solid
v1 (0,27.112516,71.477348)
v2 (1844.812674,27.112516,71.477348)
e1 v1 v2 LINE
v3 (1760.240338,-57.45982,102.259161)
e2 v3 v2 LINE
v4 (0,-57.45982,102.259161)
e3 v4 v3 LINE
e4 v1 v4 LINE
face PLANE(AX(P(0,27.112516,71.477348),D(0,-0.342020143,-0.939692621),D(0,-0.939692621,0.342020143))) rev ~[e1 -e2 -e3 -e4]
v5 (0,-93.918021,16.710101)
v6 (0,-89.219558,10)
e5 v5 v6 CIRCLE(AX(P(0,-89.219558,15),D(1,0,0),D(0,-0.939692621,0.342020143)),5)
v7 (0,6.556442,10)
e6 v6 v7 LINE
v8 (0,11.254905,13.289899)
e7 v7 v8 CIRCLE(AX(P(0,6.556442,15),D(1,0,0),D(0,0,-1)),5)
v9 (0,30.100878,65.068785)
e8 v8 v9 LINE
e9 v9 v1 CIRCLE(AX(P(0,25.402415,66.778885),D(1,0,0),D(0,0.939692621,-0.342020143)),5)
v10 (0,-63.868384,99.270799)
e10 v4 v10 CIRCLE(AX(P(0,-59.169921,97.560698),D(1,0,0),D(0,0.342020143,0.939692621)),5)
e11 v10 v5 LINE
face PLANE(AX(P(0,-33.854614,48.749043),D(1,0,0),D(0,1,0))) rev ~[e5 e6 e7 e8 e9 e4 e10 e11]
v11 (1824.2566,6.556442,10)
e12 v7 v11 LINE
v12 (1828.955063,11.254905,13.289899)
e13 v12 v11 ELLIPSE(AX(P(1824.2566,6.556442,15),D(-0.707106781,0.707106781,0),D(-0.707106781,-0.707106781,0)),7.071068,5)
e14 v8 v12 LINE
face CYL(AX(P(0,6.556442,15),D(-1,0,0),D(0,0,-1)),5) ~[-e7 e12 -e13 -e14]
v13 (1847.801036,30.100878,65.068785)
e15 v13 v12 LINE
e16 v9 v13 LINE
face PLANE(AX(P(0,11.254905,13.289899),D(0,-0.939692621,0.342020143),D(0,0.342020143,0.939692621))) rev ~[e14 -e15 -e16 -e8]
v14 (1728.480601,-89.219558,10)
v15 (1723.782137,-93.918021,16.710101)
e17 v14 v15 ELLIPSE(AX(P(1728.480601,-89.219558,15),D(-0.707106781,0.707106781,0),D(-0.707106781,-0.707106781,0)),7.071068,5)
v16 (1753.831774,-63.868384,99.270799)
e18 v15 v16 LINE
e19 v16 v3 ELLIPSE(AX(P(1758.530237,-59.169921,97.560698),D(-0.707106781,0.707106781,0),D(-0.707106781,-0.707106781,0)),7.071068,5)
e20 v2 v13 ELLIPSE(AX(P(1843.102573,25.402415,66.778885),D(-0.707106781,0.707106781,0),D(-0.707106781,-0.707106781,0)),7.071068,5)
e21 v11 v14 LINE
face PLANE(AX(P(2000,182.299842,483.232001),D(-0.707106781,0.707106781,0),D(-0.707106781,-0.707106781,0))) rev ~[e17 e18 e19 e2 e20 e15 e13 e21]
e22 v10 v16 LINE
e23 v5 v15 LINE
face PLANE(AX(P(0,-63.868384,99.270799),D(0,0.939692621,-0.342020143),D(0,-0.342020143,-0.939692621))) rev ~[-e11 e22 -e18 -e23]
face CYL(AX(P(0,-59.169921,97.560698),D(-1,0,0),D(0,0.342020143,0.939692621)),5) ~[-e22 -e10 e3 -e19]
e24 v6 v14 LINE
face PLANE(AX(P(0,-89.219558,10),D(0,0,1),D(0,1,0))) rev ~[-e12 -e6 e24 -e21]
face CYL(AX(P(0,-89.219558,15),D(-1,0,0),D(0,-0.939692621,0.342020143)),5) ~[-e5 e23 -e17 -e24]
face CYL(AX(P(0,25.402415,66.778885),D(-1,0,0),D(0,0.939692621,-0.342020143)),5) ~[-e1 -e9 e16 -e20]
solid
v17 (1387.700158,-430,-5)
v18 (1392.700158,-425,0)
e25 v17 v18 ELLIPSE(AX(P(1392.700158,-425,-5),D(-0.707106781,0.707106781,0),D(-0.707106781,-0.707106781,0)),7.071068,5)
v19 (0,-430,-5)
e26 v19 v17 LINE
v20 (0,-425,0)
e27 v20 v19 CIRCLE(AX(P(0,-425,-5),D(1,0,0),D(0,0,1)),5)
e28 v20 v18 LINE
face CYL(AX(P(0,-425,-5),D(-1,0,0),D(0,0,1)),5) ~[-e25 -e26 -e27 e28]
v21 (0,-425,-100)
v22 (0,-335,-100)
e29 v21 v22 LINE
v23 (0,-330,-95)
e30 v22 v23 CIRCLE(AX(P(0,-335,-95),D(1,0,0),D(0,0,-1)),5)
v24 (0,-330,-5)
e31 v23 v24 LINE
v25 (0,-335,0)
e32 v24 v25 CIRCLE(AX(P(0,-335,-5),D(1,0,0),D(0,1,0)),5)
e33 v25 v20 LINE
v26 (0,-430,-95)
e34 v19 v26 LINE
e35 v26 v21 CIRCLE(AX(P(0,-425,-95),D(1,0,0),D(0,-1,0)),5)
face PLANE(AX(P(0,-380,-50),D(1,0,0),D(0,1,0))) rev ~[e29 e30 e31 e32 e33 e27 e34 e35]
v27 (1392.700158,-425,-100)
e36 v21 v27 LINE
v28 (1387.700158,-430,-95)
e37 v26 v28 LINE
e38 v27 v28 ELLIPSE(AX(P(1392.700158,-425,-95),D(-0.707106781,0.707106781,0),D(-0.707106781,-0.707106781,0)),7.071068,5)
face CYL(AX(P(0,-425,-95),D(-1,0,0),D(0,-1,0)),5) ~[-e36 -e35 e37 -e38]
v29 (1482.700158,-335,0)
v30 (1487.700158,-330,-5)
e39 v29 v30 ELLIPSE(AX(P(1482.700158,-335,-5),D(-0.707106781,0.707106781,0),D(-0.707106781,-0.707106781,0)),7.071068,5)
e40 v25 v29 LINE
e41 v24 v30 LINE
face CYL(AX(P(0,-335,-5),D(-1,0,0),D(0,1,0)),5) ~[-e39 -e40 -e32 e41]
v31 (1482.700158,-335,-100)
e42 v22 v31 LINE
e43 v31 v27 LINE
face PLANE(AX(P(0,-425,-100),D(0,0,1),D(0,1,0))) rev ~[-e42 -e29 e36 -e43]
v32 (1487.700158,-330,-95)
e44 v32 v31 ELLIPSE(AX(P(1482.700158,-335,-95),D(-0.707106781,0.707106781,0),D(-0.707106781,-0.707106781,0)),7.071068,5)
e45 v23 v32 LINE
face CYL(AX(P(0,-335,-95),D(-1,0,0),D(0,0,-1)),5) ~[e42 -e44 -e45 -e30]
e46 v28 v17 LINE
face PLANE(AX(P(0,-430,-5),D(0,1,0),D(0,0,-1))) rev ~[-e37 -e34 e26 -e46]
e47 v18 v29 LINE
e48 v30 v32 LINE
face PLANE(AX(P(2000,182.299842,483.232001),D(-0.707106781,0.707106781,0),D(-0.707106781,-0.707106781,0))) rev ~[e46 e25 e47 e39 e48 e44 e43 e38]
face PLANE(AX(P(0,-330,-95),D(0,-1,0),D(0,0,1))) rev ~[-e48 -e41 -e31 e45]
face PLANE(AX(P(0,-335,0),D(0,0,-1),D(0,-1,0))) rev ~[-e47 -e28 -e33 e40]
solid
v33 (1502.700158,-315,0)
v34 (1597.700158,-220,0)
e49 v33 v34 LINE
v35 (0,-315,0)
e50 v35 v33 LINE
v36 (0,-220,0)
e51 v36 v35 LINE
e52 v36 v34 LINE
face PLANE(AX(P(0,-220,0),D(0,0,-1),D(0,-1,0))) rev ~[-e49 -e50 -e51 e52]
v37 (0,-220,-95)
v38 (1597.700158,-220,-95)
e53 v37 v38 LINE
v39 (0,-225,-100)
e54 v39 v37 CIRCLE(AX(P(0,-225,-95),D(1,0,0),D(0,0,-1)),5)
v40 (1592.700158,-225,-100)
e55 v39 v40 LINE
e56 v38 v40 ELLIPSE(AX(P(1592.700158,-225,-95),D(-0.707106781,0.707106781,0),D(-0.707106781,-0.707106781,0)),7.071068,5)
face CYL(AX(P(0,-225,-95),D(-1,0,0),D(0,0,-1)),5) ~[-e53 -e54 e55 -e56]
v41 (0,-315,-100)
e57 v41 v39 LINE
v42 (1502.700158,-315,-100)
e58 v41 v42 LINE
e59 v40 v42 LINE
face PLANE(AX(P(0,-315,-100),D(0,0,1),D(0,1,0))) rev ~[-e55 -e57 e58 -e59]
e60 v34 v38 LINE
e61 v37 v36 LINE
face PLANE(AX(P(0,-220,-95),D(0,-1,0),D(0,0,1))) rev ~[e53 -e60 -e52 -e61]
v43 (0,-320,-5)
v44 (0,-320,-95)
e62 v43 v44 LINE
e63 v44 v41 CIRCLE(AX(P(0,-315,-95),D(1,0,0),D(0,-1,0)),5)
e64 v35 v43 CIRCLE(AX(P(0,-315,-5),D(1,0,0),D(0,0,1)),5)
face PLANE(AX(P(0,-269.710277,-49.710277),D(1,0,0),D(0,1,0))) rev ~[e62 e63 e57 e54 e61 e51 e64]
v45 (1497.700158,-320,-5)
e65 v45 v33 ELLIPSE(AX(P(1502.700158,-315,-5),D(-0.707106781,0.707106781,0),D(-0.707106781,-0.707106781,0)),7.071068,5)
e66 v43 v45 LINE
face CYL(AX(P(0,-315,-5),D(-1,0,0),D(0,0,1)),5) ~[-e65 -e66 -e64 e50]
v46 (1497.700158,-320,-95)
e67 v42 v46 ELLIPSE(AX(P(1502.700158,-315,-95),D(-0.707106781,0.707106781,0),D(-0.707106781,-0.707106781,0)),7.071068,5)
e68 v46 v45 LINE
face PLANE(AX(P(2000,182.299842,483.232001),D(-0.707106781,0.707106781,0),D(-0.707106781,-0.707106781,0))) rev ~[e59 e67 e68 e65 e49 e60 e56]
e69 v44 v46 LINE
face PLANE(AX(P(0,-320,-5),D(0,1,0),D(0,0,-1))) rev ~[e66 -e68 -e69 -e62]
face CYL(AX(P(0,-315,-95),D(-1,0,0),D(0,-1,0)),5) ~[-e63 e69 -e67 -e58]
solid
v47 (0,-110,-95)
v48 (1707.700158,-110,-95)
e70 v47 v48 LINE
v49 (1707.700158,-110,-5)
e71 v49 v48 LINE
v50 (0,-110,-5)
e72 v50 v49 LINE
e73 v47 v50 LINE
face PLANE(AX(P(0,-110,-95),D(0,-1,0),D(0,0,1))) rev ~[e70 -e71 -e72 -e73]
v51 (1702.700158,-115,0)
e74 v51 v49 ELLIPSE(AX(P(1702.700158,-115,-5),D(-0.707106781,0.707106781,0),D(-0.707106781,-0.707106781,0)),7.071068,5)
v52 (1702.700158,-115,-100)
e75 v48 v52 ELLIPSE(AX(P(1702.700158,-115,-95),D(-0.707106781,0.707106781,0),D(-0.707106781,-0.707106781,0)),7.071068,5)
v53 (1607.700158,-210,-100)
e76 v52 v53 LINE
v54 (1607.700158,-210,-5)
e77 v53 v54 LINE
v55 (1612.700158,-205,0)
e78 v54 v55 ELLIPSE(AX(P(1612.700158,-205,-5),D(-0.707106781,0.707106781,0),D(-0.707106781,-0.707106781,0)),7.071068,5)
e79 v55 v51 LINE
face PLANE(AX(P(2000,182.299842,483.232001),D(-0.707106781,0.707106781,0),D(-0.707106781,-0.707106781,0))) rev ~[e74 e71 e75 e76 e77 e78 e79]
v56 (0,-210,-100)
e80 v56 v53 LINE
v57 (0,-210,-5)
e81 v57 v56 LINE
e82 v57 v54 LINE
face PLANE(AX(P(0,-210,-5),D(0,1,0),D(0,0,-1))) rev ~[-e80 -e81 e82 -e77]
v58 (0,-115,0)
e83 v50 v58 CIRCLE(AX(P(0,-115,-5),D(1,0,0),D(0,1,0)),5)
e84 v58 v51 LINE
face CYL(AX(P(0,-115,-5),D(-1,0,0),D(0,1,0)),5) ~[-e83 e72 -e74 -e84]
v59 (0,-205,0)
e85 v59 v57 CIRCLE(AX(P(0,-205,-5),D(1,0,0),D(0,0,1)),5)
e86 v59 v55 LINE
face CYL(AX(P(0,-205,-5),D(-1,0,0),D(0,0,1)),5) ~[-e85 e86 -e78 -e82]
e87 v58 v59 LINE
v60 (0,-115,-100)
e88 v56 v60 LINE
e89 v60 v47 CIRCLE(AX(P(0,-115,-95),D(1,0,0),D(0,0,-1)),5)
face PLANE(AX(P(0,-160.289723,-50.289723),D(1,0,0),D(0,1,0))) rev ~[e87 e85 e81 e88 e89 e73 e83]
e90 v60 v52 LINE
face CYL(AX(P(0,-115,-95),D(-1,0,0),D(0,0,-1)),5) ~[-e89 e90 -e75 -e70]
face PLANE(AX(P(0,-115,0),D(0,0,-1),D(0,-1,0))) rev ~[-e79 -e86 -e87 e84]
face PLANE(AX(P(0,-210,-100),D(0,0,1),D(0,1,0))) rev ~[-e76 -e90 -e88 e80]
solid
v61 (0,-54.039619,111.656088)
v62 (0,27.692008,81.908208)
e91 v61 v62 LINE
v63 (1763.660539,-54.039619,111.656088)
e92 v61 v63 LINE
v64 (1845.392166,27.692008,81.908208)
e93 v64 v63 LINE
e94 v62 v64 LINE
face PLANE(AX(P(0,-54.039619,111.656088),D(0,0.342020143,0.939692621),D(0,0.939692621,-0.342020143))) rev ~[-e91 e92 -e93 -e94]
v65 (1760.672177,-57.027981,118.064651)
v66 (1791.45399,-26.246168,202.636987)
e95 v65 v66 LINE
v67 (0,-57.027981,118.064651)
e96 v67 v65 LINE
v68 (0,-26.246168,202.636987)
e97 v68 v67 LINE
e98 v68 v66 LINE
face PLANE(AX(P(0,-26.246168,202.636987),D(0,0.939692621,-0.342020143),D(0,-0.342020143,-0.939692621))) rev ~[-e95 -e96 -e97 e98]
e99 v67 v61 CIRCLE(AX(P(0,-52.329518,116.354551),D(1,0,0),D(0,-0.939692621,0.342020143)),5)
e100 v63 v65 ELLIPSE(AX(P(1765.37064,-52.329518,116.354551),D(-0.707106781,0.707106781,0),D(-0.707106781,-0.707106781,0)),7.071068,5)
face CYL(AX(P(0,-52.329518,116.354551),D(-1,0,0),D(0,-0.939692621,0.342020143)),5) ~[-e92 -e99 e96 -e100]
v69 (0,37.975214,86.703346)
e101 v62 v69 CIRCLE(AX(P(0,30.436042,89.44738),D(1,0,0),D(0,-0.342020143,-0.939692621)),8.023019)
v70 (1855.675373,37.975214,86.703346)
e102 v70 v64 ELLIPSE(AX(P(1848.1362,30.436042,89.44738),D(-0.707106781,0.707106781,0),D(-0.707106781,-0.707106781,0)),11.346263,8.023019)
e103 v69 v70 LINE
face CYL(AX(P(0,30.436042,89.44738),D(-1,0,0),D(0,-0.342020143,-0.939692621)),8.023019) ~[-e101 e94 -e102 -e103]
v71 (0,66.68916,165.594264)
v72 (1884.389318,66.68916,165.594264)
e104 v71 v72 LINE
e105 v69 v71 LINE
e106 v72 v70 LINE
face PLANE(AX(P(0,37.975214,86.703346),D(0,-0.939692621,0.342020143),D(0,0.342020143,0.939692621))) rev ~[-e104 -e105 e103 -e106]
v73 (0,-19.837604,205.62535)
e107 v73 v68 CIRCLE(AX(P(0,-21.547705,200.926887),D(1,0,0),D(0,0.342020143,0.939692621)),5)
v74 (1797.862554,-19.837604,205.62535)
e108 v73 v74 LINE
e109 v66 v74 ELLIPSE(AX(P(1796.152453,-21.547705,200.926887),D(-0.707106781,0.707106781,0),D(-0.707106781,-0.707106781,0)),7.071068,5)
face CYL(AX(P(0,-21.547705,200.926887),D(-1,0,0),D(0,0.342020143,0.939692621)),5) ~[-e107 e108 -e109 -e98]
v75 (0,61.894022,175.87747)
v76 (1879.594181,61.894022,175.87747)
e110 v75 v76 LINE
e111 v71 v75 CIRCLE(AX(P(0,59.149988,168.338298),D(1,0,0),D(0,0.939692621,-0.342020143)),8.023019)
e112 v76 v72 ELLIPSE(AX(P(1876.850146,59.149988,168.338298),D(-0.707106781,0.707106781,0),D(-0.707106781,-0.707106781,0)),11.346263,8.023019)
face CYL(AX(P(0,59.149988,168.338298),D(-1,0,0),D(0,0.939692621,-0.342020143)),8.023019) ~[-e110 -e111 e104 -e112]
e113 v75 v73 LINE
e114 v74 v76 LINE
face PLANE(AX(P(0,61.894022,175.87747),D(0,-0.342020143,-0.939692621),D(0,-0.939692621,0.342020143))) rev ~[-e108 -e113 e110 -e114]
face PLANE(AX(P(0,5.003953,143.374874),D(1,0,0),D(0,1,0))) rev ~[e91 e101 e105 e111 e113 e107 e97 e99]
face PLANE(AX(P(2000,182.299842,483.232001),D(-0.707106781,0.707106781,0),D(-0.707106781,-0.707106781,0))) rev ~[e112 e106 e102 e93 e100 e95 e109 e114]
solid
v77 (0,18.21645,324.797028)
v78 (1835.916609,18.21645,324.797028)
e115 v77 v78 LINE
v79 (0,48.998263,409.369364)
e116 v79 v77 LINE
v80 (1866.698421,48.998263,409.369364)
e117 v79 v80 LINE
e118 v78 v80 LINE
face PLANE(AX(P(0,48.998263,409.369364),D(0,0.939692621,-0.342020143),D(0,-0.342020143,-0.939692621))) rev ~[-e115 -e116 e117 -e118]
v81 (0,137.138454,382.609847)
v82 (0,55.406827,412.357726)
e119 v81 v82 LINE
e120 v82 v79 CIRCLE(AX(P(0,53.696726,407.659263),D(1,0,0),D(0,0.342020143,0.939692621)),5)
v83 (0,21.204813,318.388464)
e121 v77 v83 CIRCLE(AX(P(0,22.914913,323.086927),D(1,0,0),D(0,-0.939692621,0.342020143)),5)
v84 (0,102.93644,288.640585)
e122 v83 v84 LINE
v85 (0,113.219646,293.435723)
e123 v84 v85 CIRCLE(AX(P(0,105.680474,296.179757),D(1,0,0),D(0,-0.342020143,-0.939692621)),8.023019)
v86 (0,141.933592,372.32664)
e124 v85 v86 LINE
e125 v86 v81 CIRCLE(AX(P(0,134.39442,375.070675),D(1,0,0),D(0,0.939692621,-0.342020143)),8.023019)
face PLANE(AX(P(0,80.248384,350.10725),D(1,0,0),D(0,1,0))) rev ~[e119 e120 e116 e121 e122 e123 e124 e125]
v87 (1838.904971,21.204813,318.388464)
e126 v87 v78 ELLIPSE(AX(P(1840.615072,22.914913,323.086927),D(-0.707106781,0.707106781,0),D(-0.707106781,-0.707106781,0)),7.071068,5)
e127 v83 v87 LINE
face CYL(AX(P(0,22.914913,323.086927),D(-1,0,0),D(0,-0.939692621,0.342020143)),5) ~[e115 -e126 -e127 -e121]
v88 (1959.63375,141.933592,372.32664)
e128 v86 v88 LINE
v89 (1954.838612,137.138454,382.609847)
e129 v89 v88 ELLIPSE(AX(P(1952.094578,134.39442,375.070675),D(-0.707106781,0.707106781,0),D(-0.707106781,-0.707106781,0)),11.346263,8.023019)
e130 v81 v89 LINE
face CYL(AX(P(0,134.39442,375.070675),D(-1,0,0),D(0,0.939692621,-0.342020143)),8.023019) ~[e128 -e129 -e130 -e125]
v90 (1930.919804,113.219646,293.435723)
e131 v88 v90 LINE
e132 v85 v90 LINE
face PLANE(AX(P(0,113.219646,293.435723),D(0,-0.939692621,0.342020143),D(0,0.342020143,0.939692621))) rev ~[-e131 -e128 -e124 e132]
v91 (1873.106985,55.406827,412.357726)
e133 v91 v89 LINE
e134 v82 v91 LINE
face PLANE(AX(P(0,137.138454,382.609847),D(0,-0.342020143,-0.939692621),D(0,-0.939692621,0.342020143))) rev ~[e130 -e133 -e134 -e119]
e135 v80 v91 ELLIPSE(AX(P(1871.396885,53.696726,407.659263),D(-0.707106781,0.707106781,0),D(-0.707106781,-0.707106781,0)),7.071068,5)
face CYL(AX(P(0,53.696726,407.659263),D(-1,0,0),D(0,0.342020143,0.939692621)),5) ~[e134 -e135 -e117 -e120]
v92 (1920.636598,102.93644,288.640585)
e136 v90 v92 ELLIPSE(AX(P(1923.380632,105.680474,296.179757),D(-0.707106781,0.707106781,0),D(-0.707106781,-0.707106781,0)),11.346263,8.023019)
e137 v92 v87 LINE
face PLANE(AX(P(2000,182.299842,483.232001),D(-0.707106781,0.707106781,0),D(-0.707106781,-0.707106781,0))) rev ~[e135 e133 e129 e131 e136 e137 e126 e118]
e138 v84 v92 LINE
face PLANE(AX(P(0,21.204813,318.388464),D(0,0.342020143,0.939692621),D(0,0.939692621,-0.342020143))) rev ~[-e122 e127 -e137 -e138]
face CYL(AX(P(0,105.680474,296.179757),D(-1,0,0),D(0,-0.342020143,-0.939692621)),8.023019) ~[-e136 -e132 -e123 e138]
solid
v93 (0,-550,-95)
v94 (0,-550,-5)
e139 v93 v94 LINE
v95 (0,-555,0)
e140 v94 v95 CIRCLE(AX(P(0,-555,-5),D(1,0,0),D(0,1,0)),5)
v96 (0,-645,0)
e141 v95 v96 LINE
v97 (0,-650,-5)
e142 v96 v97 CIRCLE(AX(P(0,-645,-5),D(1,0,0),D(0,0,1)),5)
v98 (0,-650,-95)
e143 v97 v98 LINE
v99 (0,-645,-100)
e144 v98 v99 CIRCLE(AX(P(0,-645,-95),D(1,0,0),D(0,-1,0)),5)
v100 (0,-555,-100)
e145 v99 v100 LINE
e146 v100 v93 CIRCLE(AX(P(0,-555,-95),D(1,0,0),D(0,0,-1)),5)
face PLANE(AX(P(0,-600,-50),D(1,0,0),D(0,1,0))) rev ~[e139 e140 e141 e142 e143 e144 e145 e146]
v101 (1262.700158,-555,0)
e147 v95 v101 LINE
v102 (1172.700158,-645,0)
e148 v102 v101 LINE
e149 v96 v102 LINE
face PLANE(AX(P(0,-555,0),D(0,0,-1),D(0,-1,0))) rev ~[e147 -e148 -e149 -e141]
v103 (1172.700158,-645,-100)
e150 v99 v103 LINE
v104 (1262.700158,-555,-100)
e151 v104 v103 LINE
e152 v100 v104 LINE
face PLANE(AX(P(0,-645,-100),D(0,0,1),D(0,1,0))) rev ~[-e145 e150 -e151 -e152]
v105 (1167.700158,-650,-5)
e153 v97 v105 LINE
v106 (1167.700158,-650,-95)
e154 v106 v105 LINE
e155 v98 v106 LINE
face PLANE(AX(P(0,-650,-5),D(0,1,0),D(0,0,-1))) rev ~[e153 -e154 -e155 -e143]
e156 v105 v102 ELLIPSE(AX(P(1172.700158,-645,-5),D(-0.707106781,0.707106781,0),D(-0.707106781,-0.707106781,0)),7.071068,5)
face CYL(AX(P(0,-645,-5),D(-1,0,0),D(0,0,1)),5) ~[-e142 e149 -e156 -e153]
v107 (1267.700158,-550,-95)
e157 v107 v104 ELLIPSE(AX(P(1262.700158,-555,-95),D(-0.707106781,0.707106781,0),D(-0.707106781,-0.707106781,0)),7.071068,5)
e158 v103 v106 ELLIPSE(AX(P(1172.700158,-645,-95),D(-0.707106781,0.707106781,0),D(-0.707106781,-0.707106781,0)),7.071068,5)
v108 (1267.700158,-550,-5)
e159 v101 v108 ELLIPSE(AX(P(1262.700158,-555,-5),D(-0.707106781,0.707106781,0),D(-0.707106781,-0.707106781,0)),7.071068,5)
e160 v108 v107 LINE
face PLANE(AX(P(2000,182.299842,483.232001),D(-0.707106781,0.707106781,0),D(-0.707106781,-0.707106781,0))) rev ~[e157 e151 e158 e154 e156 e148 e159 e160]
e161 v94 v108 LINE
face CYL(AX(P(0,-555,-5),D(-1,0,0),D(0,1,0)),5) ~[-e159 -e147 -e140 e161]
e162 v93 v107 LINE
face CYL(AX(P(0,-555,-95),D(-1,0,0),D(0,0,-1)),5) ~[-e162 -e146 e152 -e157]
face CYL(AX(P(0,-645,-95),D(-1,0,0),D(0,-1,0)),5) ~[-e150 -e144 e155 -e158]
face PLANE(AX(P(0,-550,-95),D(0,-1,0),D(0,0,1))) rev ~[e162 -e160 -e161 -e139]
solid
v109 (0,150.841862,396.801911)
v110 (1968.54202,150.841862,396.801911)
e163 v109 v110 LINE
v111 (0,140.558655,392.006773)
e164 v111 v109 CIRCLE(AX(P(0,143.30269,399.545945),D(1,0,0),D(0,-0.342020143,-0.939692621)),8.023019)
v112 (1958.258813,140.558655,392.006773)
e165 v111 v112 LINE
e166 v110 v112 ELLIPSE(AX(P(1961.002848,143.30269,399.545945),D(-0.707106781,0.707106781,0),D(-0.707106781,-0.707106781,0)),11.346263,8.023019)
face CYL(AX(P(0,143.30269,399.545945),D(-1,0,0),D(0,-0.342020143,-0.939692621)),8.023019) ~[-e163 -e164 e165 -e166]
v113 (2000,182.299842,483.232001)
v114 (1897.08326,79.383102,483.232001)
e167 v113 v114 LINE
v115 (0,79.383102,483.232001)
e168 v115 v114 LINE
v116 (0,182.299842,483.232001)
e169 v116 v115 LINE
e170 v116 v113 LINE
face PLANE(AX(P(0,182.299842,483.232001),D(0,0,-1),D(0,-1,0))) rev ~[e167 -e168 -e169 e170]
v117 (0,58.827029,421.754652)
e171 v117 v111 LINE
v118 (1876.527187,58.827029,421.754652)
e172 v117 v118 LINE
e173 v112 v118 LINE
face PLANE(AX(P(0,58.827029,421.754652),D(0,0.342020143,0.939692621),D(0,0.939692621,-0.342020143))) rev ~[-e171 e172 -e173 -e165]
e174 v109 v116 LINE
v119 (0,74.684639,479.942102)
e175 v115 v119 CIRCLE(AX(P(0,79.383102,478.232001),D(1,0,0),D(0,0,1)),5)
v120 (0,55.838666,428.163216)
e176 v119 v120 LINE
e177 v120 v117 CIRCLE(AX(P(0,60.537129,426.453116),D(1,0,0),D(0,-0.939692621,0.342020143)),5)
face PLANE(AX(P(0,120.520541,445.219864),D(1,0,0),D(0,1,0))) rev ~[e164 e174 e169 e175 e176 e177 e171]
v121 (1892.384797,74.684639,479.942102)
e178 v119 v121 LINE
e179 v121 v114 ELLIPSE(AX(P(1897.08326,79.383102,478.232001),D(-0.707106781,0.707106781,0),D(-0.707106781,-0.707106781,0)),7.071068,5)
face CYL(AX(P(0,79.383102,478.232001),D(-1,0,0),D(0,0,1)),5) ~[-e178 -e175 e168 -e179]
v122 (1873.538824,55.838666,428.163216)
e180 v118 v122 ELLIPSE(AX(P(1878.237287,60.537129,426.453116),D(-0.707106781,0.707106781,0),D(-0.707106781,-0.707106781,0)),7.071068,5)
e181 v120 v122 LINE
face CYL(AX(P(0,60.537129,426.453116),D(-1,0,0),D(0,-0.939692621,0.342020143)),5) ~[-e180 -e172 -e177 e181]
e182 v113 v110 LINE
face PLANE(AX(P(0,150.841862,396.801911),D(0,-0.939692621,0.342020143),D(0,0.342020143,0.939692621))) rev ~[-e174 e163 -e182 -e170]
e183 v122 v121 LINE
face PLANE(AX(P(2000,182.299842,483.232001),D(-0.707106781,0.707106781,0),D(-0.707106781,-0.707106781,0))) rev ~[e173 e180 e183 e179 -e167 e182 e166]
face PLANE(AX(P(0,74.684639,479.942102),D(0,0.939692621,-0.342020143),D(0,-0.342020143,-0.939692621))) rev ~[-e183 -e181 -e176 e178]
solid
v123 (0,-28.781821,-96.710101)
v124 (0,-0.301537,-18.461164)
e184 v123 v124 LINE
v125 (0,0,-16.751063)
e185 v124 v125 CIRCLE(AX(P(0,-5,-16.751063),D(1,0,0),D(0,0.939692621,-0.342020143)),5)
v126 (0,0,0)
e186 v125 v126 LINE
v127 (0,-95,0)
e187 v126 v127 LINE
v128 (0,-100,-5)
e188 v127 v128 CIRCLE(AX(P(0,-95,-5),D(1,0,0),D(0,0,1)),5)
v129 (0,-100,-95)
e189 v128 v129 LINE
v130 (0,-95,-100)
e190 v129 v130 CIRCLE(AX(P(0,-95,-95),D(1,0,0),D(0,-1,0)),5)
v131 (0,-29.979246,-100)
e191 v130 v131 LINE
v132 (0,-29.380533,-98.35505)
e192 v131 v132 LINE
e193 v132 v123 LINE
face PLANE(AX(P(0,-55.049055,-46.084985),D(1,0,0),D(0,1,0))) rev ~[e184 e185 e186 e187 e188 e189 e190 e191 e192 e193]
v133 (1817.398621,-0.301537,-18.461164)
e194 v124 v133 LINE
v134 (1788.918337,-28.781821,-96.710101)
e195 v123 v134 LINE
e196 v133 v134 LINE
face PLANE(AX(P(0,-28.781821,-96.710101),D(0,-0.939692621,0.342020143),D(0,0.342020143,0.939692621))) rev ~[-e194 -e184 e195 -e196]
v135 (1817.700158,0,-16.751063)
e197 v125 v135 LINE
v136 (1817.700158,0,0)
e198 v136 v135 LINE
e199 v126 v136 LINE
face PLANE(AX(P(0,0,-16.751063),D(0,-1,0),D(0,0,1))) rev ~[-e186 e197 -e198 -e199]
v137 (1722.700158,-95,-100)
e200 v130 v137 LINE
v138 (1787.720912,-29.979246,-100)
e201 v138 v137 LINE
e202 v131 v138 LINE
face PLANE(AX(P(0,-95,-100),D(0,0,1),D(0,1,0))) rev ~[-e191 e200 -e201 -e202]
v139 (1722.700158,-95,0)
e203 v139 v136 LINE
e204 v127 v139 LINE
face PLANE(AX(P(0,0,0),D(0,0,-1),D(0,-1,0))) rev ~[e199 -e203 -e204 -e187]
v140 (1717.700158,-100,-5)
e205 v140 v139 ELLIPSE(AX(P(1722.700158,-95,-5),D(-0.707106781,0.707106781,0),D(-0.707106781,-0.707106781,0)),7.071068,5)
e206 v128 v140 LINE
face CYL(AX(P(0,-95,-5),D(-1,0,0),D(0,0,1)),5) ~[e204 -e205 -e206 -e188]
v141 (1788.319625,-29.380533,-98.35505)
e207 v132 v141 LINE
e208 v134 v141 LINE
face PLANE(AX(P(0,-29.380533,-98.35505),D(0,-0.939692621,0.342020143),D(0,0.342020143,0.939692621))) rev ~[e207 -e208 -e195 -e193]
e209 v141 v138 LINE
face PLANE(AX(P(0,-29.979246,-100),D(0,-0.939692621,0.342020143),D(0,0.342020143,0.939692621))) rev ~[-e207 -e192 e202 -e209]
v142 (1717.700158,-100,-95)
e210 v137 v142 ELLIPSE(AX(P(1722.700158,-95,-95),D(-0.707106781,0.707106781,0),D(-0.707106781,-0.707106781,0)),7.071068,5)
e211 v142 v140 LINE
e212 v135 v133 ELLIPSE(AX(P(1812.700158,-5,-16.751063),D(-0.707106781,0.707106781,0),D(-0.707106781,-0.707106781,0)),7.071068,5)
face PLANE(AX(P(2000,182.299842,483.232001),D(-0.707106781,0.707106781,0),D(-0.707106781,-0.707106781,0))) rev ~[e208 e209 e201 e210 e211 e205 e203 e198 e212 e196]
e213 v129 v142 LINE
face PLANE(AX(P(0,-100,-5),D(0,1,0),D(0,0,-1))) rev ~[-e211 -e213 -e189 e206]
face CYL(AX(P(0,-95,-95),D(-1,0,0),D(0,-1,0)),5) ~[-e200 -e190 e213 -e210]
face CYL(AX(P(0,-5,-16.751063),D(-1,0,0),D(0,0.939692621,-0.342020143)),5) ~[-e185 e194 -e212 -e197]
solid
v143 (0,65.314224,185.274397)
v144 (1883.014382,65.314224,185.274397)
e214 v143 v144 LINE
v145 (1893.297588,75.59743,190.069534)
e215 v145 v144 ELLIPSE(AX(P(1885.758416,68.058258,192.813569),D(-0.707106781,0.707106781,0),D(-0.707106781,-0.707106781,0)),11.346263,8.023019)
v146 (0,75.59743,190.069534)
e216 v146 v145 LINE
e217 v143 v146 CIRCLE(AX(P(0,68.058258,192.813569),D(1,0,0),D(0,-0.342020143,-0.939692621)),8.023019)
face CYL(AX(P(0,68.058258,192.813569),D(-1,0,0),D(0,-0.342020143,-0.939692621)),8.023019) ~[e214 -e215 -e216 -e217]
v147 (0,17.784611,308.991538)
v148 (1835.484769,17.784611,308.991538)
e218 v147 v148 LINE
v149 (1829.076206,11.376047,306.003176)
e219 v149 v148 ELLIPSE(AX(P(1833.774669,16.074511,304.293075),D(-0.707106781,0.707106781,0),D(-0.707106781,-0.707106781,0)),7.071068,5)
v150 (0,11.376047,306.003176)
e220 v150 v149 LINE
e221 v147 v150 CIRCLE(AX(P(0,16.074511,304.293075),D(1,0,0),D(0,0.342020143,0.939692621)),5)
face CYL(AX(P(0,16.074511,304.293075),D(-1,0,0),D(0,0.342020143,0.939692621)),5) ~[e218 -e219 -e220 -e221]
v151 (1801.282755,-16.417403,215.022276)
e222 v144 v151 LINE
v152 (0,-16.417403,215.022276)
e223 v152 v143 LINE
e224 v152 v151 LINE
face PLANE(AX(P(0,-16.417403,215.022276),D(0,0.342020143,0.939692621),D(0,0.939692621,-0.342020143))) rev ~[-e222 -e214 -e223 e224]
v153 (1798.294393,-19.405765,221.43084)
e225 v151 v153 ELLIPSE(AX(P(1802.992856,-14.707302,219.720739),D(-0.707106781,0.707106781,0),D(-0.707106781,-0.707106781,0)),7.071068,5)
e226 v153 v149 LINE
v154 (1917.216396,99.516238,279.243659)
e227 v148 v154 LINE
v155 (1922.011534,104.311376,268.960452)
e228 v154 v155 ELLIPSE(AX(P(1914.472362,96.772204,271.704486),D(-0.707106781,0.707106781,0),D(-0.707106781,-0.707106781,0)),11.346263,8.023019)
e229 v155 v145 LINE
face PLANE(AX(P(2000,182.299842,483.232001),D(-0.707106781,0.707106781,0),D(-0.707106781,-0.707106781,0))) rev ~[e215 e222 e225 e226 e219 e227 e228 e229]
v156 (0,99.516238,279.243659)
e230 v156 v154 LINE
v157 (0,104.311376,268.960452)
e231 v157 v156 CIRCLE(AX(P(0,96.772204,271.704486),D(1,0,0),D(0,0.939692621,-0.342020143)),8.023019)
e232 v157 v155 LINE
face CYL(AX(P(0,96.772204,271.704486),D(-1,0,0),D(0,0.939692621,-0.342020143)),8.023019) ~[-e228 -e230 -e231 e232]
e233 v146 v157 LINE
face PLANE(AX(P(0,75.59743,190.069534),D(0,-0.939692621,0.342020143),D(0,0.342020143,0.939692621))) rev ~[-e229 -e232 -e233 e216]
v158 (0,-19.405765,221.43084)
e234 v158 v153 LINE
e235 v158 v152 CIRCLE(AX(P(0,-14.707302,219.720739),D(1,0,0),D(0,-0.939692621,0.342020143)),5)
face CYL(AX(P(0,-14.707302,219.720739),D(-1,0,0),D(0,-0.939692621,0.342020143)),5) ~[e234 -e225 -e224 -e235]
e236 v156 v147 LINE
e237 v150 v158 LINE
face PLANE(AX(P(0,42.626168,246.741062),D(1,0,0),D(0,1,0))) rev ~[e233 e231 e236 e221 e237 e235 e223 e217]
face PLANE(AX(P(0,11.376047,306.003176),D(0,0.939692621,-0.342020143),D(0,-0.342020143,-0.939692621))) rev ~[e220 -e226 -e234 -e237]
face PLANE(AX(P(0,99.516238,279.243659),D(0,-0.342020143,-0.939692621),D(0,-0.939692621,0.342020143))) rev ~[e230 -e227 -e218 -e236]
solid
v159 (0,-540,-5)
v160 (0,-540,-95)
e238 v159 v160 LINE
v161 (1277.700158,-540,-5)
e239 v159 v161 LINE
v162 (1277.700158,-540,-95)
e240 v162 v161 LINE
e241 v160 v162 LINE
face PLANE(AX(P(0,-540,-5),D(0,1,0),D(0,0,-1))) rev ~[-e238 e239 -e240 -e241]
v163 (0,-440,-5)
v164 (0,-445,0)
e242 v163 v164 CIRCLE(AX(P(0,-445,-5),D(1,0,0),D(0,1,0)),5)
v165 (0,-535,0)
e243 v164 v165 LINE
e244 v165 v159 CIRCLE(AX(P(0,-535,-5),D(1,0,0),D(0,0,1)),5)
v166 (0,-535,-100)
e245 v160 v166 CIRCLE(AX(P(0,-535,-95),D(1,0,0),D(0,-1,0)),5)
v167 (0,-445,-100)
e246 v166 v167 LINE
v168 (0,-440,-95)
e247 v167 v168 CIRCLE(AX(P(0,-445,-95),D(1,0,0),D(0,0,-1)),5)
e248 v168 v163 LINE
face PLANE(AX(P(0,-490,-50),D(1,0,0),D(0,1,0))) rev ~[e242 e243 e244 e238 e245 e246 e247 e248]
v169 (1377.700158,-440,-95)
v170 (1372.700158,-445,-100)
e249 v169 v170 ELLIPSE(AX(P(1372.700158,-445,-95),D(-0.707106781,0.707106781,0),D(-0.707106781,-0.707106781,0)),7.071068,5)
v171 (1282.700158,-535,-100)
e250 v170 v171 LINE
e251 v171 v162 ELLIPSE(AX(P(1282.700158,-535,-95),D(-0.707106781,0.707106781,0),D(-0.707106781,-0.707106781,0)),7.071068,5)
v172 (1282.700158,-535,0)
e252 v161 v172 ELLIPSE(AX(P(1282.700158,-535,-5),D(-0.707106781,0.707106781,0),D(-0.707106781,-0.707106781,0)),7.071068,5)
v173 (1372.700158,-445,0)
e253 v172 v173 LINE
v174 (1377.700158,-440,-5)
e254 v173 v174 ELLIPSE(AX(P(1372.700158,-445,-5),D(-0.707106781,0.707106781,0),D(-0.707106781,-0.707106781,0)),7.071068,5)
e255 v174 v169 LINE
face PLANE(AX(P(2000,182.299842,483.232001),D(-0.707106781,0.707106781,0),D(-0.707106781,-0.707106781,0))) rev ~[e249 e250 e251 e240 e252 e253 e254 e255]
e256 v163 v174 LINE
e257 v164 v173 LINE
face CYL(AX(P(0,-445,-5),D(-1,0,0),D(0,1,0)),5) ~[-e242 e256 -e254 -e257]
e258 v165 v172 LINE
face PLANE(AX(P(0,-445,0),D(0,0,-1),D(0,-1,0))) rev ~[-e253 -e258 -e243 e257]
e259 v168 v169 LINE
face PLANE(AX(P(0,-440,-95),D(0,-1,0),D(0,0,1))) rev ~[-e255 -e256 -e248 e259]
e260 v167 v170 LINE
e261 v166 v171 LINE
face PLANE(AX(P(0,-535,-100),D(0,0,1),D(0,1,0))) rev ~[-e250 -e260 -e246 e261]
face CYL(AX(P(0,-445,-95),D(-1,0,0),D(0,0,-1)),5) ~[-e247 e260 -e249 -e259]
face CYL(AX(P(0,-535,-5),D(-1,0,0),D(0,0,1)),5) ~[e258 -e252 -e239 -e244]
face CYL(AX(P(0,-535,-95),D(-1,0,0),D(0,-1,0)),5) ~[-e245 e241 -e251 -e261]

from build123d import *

# Parameters (mm, degrees)
F1_DEPTH = 2000
F3_DEPTH = 583.2330008918


with BuildPart() as f1:
    # F0 (on Right) → F1 (new body)
    with BuildSketch(Plane.YZ):
        with BuildLine():
            Line((0, -16.7510631673), (0, 0))
            Line((0, 0), (-95, 0))
            ThreePointArc((-95, 0), (-98.5355339059, -1.4644660941), (-100, -5))
            Line((-100, -5), (-100, -95))
            ThreePointArc((-100, -95), (-98.5355339059, -98.5355339059), (-95, -100))
            Line((-95, -100), (-33.4802838701, -100))
            Line((-33.4802838701, -100), (-29.979246179, -100))
            Line((-29.979246179, -100), (-29.3805334726, -98.3550503583))
            Line((-29.3805334726, -98.3550503583), (-28.7818207661, -96.7101007166))
            Line((-28.7818207661, -96.7101007166), (-0.3015368961, -18.4611638839))
            ThreePointArc((-0.3015368961, -18.4611638839), (-0.0759612349, -17.6193040556), (0, -16.7510631673))
        make_face()
    extrude(amount=F1_DEPTH)


with BuildPart() as f1b:
    # F0 (on Right) → F1, piece 2 (new body)
    with BuildSketch(Plane.YZ):
        with BuildLine():
            ThreePointArc((-110, -5), (-111.4644660941, -1.4644660941), (-115, 0))
            Line((-115, 0), (-205, 0))
            ThreePointArc((-205, 0), (-208.5355339059, -1.4644660941), (-210, -5))
            Line((-210, -5), (-210, -100))
            Line((-210, -100), (-115, -100))
            ThreePointArc((-115, -100), (-111.4644660941, -98.5355339059), (-110, -95))
            Line((-110, -95), (-110, -5))
        make_face()
    extrude(amount=F1_DEPTH)


with BuildPart() as f1c:
    # F0 (on Right) → F1, piece 3 (new body)
    with BuildSketch(Plane.YZ):
        with BuildLine():
            Line((-220, -95), (-220, 0))
            Line((-220, 0), (-315, 0))
            ThreePointArc((-315, 0), (-318.5355339059, -1.4644660941), (-320, -5))
            Line((-320, -5), (-320, -95))
            ThreePointArc((-320, -95), (-318.5355339059, -98.5355339059), (-315, -100))
            Line((-315, -100), (-225, -100))
            ThreePointArc((-225, -100), (-221.4644660941, -98.5355339059), (-220, -95))
        make_face()
    extrude(amount=F1_DEPTH)


with BuildPart() as f1d:
    # F0 (on Right) → F1, piece 4 (new body)
    with BuildSketch(Plane.YZ):
        with BuildLine():
            ThreePointArc((-330, -5), (-331.4644660941, -1.4644660941), (-335, 0))
            Line((-335, 0), (-425, 0))
            ThreePointArc((-425, 0), (-428.5355339059, -1.4644660941), (-430, -5))
            Line((-430, -5), (-430, -95))
            ThreePointArc((-430, -95), (-428.5355339059, -98.5355339059), (-425, -100))
            Line((-425, -100), (-335, -100))
            ThreePointArc((-335, -100), (-331.4644660941, -98.5355339059), (-330, -95))
            Line((-330, -95), (-330, -5))
        make_face()
    extrude(amount=F1_DEPTH)


with BuildPart() as f1e:
    # F0 (on Right) → F1, piece 5 (new body)
    with BuildSketch(Plane.YZ):
        with BuildLine():
            ThreePointArc((-440, -5), (-441.4644660941, -1.4644660941), (-445, 0))
            Line((-445, 0), (-535, 0))
            ThreePointArc((-535, 0), (-538.5355339059, -1.4644660941), (-540, -5))
            Line((-540, -5), (-540, -95))
            ThreePointArc((-540, -95), (-538.5355339059, -98.5355339059), (-535, -100))
            Line((-535, -100), (-445, -100))
            ThreePointArc((-445, -100), (-441.4644660941, -98.5355339059), (-440, -95))
            Line((-440, -95), (-440, -5))
        make_face()
    extrude(amount=F1_DEPTH)


with BuildPart() as f1f:
    # F0 (on Right) → F1, piece 6 (new body)
    with BuildSketch(Plane.YZ):
        with BuildLine():
            ThreePointArc((-550, -5), (-551.4644660941, -1.4644660941), (-555, 0))
            Line((-555, 0), (-645, 0))
            ThreePointArc((-645, 0), (-648.5355339059, -1.4644660941), (-650, -5))
            Line((-650, -5), (-650, -95))
            ThreePointArc((-650, -95), (-648.5355339059, -98.5355339059), (-645, -100))
            Line((-645, -100), (-555, -100))
            ThreePointArc((-555, -100), (-551.4644660941, -98.5355339059), (-550, -95))
            Line((-550, -95), (-550, -5))
        make_face()
    extrude(amount=F1_DEPTH)


with BuildPart() as f1g:
    # F0 (on Right) → F1, piece 7 (new body)
    with BuildSketch(Plane.YZ):
        with BuildLine():
            Line((-63.8683840414, 99.2707989747), (-93.9180207276, 16.7101007166))
            ThreePointArc((-93.9180207276, 16.7101007166), (-93.3153178451, 12.1321178182), (-89.2195576236, 10))
            Line((-89.2195576236, 10), (6.5564418992, 10))
            ThreePointArc((6.5564418992, 10), (9.424324081, 10.9042397786), (11.2549050031, 13.2898992834))
            Line((11.2549050031, 13.2898992834), (30.1008780372, 65.0687846421))
            ThreePointArc((30.1008780372, 65.0687846421), (29.9339538684, 68.8919766674), (27.1125156499, 71.4773484627))
            Line((27.1125156499, 71.4773484627), (-57.4598202208, 102.259161362))
            ThreePointArc((-57.4598202208, 102.259161362), (-61.2830122462, 102.0922371932), (-63.8683840414, 99.2707989747))
        make_face()
    extrude(amount=F1_DEPTH)


with BuildPart() as f1h:
    # F0 (on Right) → F1, piece 8 (new body)
    with BuildSketch(Plane.YZ):
        with BuildLine():
            ThreePointArc((-57.0279811749, 118.0646513904), (-56.8610570061, 114.241459365), (-54.0396187876, 111.6560875698))
            Line((-54.0396187876, 111.6560875698), (27.6920079995, 81.9082082212))
            ThreePointArc((27.6920079995, 81.9082082212), (33.8267168069, 82.1760553922), (37.9752144544, 86.7033461415))
            Line((37.9752144544, 86.7033461415), (66.6891602523, 165.5942638449))
            ThreePointArc((66.6891602523, 165.5942638449), (66.4213130813, 171.7289726523), (61.894022332, 175.8774702998))
            Line((61.894022332, 175.8774702998), (-19.837604455, 205.6253496484))
            ThreePointArc((-19.837604455, 205.6253496484), (-23.6607964803, 205.4584254797), (-26.2461682756, 202.6369872611))
            Line((-26.2461682756, 202.6369872611), (-57.0279811749, 118.0646513904))
        make_face()
    extrude(amount=F1_DEPTH)


with BuildPart() as f1i:
    # F0 (on Right) → F1, piece 9 (new body)
    with BuildSketch(Plane.YZ):
        with BuildLine():
            Line((11.3760474902, 306.0031755476), (-19.4057654091, 221.4308396768))
            ThreePointArc((-19.4057654091, 221.4308396768), (-19.2388412403, 217.6076476515), (-16.4174030218, 215.0222758563))
            Line((-16.4174030218, 215.0222758563), (65.3142237653, 185.2743965076))
            ThreePointArc((65.3142237653, 185.2743965076), (71.4489325728, 185.5422436786), (75.5974302202, 190.0695344279))
            Line((75.5974302202, 190.0695344279), (104.3113760182, 268.9604521313))
            ThreePointArc((104.3113760182, 268.9604521313), (104.0435288472, 275.0951609388), (99.5162380979, 279.2436585862))
            Line((99.5162380979, 279.2436585862), (17.7846113108, 308.9915379349))
            ThreePointArc((17.7846113108, 308.9915379349), (13.9614192855, 308.8246137661), (11.3760474902, 306.0031755476))
        make_face()
    extrude(amount=F1_DEPTH)


with BuildPart() as f1j:
    # F0 (on Right) → F1, piece 10 (new body)
    with BuildSketch(Plane.YZ):
        with BuildLine():
            Line((150.8418617518, 396.8019110008), (182.2998418171, 483.2320008918))
            Line((182.2998418171, 483.2320008918), (79.3831022606, 483.2320008918))
            ThreePointArc((79.3831022606, 483.2320008918), (76.5152200788, 482.3277611133), (74.6846391566, 479.9421016085))
            Line((74.6846391566, 479.9421016085), (55.8386661226, 428.1632162497))
            ThreePointArc((55.8386661226, 428.1632162497), (56.0055902913, 424.3400242244), (58.8270285099, 421.7546524292))
            Line((58.8270285099, 421.7546524292), (140.5586552969, 392.0067730805))
            ThreePointArc((140.5586552969, 392.0067730805), (146.6933641044, 392.2746202515), (150.8418617518, 396.8019110008))
        make_face()
    extrude(amount=F1_DEPTH)


with BuildPart() as f1k:
    # F0 (on Right) → F1, piece 11 (new body)
    with BuildSketch(Plane.YZ):
        with BuildLine():
            ThreePointArc((18.2164503568, 324.7970279633), (18.3833745255, 320.9738359379), (21.2048127441, 318.3884641427))
            Line((21.2048127441, 318.3884641427), (102.9364395311, 288.6405847941))
            ThreePointArc((102.9364395311, 288.6405847941), (109.0711483386, 288.9084319651), (113.219645986, 293.4357227144))
            Line((113.219645986, 293.4357227144), (141.933591784, 372.3266404178))
            ThreePointArc((141.933591784, 372.3266404178), (141.665744613, 378.4613492252), (137.1384538637, 382.6098468727))
            Line((137.1384538637, 382.6098468727), (55.4068270766, 412.3577262213))
            ThreePointArc((55.4068270766, 412.3577262213), (51.5836350513, 412.1908020526), (48.9982632561, 409.369363834))
            Line((48.9982632561, 409.369363834), (18.2164503568, 324.7970279633))
        make_face()
    extrude(amount=F1_DEPTH)


with BuildPart() as f3_tool:
    # F2 (on face) → F3 (new body, through all)
    with BuildSketch(Plane.XY.offset(483.2320008918)):
        Polygon((2000, 79.3831022606), (2000, 182.2998418171), (1897.0832604435, 79.3831022606), align=None)
        Polygon((2000, -650.1975481829), (2000, 79.3831022606), (1897.0832604435, 79.3831022606), (1167.50261, -650.1975481829), align=None)
    extrude(amount=-F3_DEPTH)


with BuildPart() as f1_1:
    add(f1.part)

    # F3: cut by f3_tool
    add(f3_tool.part, mode=Mode.SUBTRACT)


with BuildPart() as f1b_1:
    add(f1b.part)

    # F3: cut by f3_tool
    add(f3_tool.part, mode=Mode.SUBTRACT)


with BuildPart() as f1c_1:
    add(f1c.part)

    # F3: cut by f3_tool
    add(f3_tool.part, mode=Mode.SUBTRACT)


with BuildPart() as f1d_1:
    add(f1d.part)

    # F3: cut by f3_tool
    add(f3_tool.part, mode=Mode.SUBTRACT)


with BuildPart() as f1e_1:
    add(f1e.part)

    # F3: cut by f3_tool
    add(f3_tool.part, mode=Mode.SUBTRACT)


with BuildPart() as f1f_1:
    add(f1f.part)

    # F3: cut by f3_tool
    add(f3_tool.part, mode=Mode.SUBTRACT)


with BuildPart() as f1g_1:
    add(f1g.part)

    # F3: cut by f3_tool
    add(f3_tool.part, mode=Mode.SUBTRACT)


with BuildPart() as f1h_1:
    add(f1h.part)

    # F3: cut by f3_tool
    add(f3_tool.part, mode=Mode.SUBTRACT)


with BuildPart() as f1i_1:
    add(f1i.part)

    # F3: cut by f3_tool
    add(f3_tool.part, mode=Mode.SUBTRACT)


with BuildPart() as f1j_1:
    add(f1j.part)

    # F3: cut by f3_tool
    add(f3_tool.part, mode=Mode.SUBTRACT)


with BuildPart() as f1k_1:
    add(f1k.part)

    # F3: cut by f3_tool
    add(f3_tool.part, mode=Mode.SUBTRACT)


solid = Compound([f1_1.part, f1b_1.part, f1c_1.part, f1d_1.part, f1e_1.part, f1f_1.part, f1g_1.part, f1h_1.part, f1i_1.part, f1j_1.part, f1k_1.part])
